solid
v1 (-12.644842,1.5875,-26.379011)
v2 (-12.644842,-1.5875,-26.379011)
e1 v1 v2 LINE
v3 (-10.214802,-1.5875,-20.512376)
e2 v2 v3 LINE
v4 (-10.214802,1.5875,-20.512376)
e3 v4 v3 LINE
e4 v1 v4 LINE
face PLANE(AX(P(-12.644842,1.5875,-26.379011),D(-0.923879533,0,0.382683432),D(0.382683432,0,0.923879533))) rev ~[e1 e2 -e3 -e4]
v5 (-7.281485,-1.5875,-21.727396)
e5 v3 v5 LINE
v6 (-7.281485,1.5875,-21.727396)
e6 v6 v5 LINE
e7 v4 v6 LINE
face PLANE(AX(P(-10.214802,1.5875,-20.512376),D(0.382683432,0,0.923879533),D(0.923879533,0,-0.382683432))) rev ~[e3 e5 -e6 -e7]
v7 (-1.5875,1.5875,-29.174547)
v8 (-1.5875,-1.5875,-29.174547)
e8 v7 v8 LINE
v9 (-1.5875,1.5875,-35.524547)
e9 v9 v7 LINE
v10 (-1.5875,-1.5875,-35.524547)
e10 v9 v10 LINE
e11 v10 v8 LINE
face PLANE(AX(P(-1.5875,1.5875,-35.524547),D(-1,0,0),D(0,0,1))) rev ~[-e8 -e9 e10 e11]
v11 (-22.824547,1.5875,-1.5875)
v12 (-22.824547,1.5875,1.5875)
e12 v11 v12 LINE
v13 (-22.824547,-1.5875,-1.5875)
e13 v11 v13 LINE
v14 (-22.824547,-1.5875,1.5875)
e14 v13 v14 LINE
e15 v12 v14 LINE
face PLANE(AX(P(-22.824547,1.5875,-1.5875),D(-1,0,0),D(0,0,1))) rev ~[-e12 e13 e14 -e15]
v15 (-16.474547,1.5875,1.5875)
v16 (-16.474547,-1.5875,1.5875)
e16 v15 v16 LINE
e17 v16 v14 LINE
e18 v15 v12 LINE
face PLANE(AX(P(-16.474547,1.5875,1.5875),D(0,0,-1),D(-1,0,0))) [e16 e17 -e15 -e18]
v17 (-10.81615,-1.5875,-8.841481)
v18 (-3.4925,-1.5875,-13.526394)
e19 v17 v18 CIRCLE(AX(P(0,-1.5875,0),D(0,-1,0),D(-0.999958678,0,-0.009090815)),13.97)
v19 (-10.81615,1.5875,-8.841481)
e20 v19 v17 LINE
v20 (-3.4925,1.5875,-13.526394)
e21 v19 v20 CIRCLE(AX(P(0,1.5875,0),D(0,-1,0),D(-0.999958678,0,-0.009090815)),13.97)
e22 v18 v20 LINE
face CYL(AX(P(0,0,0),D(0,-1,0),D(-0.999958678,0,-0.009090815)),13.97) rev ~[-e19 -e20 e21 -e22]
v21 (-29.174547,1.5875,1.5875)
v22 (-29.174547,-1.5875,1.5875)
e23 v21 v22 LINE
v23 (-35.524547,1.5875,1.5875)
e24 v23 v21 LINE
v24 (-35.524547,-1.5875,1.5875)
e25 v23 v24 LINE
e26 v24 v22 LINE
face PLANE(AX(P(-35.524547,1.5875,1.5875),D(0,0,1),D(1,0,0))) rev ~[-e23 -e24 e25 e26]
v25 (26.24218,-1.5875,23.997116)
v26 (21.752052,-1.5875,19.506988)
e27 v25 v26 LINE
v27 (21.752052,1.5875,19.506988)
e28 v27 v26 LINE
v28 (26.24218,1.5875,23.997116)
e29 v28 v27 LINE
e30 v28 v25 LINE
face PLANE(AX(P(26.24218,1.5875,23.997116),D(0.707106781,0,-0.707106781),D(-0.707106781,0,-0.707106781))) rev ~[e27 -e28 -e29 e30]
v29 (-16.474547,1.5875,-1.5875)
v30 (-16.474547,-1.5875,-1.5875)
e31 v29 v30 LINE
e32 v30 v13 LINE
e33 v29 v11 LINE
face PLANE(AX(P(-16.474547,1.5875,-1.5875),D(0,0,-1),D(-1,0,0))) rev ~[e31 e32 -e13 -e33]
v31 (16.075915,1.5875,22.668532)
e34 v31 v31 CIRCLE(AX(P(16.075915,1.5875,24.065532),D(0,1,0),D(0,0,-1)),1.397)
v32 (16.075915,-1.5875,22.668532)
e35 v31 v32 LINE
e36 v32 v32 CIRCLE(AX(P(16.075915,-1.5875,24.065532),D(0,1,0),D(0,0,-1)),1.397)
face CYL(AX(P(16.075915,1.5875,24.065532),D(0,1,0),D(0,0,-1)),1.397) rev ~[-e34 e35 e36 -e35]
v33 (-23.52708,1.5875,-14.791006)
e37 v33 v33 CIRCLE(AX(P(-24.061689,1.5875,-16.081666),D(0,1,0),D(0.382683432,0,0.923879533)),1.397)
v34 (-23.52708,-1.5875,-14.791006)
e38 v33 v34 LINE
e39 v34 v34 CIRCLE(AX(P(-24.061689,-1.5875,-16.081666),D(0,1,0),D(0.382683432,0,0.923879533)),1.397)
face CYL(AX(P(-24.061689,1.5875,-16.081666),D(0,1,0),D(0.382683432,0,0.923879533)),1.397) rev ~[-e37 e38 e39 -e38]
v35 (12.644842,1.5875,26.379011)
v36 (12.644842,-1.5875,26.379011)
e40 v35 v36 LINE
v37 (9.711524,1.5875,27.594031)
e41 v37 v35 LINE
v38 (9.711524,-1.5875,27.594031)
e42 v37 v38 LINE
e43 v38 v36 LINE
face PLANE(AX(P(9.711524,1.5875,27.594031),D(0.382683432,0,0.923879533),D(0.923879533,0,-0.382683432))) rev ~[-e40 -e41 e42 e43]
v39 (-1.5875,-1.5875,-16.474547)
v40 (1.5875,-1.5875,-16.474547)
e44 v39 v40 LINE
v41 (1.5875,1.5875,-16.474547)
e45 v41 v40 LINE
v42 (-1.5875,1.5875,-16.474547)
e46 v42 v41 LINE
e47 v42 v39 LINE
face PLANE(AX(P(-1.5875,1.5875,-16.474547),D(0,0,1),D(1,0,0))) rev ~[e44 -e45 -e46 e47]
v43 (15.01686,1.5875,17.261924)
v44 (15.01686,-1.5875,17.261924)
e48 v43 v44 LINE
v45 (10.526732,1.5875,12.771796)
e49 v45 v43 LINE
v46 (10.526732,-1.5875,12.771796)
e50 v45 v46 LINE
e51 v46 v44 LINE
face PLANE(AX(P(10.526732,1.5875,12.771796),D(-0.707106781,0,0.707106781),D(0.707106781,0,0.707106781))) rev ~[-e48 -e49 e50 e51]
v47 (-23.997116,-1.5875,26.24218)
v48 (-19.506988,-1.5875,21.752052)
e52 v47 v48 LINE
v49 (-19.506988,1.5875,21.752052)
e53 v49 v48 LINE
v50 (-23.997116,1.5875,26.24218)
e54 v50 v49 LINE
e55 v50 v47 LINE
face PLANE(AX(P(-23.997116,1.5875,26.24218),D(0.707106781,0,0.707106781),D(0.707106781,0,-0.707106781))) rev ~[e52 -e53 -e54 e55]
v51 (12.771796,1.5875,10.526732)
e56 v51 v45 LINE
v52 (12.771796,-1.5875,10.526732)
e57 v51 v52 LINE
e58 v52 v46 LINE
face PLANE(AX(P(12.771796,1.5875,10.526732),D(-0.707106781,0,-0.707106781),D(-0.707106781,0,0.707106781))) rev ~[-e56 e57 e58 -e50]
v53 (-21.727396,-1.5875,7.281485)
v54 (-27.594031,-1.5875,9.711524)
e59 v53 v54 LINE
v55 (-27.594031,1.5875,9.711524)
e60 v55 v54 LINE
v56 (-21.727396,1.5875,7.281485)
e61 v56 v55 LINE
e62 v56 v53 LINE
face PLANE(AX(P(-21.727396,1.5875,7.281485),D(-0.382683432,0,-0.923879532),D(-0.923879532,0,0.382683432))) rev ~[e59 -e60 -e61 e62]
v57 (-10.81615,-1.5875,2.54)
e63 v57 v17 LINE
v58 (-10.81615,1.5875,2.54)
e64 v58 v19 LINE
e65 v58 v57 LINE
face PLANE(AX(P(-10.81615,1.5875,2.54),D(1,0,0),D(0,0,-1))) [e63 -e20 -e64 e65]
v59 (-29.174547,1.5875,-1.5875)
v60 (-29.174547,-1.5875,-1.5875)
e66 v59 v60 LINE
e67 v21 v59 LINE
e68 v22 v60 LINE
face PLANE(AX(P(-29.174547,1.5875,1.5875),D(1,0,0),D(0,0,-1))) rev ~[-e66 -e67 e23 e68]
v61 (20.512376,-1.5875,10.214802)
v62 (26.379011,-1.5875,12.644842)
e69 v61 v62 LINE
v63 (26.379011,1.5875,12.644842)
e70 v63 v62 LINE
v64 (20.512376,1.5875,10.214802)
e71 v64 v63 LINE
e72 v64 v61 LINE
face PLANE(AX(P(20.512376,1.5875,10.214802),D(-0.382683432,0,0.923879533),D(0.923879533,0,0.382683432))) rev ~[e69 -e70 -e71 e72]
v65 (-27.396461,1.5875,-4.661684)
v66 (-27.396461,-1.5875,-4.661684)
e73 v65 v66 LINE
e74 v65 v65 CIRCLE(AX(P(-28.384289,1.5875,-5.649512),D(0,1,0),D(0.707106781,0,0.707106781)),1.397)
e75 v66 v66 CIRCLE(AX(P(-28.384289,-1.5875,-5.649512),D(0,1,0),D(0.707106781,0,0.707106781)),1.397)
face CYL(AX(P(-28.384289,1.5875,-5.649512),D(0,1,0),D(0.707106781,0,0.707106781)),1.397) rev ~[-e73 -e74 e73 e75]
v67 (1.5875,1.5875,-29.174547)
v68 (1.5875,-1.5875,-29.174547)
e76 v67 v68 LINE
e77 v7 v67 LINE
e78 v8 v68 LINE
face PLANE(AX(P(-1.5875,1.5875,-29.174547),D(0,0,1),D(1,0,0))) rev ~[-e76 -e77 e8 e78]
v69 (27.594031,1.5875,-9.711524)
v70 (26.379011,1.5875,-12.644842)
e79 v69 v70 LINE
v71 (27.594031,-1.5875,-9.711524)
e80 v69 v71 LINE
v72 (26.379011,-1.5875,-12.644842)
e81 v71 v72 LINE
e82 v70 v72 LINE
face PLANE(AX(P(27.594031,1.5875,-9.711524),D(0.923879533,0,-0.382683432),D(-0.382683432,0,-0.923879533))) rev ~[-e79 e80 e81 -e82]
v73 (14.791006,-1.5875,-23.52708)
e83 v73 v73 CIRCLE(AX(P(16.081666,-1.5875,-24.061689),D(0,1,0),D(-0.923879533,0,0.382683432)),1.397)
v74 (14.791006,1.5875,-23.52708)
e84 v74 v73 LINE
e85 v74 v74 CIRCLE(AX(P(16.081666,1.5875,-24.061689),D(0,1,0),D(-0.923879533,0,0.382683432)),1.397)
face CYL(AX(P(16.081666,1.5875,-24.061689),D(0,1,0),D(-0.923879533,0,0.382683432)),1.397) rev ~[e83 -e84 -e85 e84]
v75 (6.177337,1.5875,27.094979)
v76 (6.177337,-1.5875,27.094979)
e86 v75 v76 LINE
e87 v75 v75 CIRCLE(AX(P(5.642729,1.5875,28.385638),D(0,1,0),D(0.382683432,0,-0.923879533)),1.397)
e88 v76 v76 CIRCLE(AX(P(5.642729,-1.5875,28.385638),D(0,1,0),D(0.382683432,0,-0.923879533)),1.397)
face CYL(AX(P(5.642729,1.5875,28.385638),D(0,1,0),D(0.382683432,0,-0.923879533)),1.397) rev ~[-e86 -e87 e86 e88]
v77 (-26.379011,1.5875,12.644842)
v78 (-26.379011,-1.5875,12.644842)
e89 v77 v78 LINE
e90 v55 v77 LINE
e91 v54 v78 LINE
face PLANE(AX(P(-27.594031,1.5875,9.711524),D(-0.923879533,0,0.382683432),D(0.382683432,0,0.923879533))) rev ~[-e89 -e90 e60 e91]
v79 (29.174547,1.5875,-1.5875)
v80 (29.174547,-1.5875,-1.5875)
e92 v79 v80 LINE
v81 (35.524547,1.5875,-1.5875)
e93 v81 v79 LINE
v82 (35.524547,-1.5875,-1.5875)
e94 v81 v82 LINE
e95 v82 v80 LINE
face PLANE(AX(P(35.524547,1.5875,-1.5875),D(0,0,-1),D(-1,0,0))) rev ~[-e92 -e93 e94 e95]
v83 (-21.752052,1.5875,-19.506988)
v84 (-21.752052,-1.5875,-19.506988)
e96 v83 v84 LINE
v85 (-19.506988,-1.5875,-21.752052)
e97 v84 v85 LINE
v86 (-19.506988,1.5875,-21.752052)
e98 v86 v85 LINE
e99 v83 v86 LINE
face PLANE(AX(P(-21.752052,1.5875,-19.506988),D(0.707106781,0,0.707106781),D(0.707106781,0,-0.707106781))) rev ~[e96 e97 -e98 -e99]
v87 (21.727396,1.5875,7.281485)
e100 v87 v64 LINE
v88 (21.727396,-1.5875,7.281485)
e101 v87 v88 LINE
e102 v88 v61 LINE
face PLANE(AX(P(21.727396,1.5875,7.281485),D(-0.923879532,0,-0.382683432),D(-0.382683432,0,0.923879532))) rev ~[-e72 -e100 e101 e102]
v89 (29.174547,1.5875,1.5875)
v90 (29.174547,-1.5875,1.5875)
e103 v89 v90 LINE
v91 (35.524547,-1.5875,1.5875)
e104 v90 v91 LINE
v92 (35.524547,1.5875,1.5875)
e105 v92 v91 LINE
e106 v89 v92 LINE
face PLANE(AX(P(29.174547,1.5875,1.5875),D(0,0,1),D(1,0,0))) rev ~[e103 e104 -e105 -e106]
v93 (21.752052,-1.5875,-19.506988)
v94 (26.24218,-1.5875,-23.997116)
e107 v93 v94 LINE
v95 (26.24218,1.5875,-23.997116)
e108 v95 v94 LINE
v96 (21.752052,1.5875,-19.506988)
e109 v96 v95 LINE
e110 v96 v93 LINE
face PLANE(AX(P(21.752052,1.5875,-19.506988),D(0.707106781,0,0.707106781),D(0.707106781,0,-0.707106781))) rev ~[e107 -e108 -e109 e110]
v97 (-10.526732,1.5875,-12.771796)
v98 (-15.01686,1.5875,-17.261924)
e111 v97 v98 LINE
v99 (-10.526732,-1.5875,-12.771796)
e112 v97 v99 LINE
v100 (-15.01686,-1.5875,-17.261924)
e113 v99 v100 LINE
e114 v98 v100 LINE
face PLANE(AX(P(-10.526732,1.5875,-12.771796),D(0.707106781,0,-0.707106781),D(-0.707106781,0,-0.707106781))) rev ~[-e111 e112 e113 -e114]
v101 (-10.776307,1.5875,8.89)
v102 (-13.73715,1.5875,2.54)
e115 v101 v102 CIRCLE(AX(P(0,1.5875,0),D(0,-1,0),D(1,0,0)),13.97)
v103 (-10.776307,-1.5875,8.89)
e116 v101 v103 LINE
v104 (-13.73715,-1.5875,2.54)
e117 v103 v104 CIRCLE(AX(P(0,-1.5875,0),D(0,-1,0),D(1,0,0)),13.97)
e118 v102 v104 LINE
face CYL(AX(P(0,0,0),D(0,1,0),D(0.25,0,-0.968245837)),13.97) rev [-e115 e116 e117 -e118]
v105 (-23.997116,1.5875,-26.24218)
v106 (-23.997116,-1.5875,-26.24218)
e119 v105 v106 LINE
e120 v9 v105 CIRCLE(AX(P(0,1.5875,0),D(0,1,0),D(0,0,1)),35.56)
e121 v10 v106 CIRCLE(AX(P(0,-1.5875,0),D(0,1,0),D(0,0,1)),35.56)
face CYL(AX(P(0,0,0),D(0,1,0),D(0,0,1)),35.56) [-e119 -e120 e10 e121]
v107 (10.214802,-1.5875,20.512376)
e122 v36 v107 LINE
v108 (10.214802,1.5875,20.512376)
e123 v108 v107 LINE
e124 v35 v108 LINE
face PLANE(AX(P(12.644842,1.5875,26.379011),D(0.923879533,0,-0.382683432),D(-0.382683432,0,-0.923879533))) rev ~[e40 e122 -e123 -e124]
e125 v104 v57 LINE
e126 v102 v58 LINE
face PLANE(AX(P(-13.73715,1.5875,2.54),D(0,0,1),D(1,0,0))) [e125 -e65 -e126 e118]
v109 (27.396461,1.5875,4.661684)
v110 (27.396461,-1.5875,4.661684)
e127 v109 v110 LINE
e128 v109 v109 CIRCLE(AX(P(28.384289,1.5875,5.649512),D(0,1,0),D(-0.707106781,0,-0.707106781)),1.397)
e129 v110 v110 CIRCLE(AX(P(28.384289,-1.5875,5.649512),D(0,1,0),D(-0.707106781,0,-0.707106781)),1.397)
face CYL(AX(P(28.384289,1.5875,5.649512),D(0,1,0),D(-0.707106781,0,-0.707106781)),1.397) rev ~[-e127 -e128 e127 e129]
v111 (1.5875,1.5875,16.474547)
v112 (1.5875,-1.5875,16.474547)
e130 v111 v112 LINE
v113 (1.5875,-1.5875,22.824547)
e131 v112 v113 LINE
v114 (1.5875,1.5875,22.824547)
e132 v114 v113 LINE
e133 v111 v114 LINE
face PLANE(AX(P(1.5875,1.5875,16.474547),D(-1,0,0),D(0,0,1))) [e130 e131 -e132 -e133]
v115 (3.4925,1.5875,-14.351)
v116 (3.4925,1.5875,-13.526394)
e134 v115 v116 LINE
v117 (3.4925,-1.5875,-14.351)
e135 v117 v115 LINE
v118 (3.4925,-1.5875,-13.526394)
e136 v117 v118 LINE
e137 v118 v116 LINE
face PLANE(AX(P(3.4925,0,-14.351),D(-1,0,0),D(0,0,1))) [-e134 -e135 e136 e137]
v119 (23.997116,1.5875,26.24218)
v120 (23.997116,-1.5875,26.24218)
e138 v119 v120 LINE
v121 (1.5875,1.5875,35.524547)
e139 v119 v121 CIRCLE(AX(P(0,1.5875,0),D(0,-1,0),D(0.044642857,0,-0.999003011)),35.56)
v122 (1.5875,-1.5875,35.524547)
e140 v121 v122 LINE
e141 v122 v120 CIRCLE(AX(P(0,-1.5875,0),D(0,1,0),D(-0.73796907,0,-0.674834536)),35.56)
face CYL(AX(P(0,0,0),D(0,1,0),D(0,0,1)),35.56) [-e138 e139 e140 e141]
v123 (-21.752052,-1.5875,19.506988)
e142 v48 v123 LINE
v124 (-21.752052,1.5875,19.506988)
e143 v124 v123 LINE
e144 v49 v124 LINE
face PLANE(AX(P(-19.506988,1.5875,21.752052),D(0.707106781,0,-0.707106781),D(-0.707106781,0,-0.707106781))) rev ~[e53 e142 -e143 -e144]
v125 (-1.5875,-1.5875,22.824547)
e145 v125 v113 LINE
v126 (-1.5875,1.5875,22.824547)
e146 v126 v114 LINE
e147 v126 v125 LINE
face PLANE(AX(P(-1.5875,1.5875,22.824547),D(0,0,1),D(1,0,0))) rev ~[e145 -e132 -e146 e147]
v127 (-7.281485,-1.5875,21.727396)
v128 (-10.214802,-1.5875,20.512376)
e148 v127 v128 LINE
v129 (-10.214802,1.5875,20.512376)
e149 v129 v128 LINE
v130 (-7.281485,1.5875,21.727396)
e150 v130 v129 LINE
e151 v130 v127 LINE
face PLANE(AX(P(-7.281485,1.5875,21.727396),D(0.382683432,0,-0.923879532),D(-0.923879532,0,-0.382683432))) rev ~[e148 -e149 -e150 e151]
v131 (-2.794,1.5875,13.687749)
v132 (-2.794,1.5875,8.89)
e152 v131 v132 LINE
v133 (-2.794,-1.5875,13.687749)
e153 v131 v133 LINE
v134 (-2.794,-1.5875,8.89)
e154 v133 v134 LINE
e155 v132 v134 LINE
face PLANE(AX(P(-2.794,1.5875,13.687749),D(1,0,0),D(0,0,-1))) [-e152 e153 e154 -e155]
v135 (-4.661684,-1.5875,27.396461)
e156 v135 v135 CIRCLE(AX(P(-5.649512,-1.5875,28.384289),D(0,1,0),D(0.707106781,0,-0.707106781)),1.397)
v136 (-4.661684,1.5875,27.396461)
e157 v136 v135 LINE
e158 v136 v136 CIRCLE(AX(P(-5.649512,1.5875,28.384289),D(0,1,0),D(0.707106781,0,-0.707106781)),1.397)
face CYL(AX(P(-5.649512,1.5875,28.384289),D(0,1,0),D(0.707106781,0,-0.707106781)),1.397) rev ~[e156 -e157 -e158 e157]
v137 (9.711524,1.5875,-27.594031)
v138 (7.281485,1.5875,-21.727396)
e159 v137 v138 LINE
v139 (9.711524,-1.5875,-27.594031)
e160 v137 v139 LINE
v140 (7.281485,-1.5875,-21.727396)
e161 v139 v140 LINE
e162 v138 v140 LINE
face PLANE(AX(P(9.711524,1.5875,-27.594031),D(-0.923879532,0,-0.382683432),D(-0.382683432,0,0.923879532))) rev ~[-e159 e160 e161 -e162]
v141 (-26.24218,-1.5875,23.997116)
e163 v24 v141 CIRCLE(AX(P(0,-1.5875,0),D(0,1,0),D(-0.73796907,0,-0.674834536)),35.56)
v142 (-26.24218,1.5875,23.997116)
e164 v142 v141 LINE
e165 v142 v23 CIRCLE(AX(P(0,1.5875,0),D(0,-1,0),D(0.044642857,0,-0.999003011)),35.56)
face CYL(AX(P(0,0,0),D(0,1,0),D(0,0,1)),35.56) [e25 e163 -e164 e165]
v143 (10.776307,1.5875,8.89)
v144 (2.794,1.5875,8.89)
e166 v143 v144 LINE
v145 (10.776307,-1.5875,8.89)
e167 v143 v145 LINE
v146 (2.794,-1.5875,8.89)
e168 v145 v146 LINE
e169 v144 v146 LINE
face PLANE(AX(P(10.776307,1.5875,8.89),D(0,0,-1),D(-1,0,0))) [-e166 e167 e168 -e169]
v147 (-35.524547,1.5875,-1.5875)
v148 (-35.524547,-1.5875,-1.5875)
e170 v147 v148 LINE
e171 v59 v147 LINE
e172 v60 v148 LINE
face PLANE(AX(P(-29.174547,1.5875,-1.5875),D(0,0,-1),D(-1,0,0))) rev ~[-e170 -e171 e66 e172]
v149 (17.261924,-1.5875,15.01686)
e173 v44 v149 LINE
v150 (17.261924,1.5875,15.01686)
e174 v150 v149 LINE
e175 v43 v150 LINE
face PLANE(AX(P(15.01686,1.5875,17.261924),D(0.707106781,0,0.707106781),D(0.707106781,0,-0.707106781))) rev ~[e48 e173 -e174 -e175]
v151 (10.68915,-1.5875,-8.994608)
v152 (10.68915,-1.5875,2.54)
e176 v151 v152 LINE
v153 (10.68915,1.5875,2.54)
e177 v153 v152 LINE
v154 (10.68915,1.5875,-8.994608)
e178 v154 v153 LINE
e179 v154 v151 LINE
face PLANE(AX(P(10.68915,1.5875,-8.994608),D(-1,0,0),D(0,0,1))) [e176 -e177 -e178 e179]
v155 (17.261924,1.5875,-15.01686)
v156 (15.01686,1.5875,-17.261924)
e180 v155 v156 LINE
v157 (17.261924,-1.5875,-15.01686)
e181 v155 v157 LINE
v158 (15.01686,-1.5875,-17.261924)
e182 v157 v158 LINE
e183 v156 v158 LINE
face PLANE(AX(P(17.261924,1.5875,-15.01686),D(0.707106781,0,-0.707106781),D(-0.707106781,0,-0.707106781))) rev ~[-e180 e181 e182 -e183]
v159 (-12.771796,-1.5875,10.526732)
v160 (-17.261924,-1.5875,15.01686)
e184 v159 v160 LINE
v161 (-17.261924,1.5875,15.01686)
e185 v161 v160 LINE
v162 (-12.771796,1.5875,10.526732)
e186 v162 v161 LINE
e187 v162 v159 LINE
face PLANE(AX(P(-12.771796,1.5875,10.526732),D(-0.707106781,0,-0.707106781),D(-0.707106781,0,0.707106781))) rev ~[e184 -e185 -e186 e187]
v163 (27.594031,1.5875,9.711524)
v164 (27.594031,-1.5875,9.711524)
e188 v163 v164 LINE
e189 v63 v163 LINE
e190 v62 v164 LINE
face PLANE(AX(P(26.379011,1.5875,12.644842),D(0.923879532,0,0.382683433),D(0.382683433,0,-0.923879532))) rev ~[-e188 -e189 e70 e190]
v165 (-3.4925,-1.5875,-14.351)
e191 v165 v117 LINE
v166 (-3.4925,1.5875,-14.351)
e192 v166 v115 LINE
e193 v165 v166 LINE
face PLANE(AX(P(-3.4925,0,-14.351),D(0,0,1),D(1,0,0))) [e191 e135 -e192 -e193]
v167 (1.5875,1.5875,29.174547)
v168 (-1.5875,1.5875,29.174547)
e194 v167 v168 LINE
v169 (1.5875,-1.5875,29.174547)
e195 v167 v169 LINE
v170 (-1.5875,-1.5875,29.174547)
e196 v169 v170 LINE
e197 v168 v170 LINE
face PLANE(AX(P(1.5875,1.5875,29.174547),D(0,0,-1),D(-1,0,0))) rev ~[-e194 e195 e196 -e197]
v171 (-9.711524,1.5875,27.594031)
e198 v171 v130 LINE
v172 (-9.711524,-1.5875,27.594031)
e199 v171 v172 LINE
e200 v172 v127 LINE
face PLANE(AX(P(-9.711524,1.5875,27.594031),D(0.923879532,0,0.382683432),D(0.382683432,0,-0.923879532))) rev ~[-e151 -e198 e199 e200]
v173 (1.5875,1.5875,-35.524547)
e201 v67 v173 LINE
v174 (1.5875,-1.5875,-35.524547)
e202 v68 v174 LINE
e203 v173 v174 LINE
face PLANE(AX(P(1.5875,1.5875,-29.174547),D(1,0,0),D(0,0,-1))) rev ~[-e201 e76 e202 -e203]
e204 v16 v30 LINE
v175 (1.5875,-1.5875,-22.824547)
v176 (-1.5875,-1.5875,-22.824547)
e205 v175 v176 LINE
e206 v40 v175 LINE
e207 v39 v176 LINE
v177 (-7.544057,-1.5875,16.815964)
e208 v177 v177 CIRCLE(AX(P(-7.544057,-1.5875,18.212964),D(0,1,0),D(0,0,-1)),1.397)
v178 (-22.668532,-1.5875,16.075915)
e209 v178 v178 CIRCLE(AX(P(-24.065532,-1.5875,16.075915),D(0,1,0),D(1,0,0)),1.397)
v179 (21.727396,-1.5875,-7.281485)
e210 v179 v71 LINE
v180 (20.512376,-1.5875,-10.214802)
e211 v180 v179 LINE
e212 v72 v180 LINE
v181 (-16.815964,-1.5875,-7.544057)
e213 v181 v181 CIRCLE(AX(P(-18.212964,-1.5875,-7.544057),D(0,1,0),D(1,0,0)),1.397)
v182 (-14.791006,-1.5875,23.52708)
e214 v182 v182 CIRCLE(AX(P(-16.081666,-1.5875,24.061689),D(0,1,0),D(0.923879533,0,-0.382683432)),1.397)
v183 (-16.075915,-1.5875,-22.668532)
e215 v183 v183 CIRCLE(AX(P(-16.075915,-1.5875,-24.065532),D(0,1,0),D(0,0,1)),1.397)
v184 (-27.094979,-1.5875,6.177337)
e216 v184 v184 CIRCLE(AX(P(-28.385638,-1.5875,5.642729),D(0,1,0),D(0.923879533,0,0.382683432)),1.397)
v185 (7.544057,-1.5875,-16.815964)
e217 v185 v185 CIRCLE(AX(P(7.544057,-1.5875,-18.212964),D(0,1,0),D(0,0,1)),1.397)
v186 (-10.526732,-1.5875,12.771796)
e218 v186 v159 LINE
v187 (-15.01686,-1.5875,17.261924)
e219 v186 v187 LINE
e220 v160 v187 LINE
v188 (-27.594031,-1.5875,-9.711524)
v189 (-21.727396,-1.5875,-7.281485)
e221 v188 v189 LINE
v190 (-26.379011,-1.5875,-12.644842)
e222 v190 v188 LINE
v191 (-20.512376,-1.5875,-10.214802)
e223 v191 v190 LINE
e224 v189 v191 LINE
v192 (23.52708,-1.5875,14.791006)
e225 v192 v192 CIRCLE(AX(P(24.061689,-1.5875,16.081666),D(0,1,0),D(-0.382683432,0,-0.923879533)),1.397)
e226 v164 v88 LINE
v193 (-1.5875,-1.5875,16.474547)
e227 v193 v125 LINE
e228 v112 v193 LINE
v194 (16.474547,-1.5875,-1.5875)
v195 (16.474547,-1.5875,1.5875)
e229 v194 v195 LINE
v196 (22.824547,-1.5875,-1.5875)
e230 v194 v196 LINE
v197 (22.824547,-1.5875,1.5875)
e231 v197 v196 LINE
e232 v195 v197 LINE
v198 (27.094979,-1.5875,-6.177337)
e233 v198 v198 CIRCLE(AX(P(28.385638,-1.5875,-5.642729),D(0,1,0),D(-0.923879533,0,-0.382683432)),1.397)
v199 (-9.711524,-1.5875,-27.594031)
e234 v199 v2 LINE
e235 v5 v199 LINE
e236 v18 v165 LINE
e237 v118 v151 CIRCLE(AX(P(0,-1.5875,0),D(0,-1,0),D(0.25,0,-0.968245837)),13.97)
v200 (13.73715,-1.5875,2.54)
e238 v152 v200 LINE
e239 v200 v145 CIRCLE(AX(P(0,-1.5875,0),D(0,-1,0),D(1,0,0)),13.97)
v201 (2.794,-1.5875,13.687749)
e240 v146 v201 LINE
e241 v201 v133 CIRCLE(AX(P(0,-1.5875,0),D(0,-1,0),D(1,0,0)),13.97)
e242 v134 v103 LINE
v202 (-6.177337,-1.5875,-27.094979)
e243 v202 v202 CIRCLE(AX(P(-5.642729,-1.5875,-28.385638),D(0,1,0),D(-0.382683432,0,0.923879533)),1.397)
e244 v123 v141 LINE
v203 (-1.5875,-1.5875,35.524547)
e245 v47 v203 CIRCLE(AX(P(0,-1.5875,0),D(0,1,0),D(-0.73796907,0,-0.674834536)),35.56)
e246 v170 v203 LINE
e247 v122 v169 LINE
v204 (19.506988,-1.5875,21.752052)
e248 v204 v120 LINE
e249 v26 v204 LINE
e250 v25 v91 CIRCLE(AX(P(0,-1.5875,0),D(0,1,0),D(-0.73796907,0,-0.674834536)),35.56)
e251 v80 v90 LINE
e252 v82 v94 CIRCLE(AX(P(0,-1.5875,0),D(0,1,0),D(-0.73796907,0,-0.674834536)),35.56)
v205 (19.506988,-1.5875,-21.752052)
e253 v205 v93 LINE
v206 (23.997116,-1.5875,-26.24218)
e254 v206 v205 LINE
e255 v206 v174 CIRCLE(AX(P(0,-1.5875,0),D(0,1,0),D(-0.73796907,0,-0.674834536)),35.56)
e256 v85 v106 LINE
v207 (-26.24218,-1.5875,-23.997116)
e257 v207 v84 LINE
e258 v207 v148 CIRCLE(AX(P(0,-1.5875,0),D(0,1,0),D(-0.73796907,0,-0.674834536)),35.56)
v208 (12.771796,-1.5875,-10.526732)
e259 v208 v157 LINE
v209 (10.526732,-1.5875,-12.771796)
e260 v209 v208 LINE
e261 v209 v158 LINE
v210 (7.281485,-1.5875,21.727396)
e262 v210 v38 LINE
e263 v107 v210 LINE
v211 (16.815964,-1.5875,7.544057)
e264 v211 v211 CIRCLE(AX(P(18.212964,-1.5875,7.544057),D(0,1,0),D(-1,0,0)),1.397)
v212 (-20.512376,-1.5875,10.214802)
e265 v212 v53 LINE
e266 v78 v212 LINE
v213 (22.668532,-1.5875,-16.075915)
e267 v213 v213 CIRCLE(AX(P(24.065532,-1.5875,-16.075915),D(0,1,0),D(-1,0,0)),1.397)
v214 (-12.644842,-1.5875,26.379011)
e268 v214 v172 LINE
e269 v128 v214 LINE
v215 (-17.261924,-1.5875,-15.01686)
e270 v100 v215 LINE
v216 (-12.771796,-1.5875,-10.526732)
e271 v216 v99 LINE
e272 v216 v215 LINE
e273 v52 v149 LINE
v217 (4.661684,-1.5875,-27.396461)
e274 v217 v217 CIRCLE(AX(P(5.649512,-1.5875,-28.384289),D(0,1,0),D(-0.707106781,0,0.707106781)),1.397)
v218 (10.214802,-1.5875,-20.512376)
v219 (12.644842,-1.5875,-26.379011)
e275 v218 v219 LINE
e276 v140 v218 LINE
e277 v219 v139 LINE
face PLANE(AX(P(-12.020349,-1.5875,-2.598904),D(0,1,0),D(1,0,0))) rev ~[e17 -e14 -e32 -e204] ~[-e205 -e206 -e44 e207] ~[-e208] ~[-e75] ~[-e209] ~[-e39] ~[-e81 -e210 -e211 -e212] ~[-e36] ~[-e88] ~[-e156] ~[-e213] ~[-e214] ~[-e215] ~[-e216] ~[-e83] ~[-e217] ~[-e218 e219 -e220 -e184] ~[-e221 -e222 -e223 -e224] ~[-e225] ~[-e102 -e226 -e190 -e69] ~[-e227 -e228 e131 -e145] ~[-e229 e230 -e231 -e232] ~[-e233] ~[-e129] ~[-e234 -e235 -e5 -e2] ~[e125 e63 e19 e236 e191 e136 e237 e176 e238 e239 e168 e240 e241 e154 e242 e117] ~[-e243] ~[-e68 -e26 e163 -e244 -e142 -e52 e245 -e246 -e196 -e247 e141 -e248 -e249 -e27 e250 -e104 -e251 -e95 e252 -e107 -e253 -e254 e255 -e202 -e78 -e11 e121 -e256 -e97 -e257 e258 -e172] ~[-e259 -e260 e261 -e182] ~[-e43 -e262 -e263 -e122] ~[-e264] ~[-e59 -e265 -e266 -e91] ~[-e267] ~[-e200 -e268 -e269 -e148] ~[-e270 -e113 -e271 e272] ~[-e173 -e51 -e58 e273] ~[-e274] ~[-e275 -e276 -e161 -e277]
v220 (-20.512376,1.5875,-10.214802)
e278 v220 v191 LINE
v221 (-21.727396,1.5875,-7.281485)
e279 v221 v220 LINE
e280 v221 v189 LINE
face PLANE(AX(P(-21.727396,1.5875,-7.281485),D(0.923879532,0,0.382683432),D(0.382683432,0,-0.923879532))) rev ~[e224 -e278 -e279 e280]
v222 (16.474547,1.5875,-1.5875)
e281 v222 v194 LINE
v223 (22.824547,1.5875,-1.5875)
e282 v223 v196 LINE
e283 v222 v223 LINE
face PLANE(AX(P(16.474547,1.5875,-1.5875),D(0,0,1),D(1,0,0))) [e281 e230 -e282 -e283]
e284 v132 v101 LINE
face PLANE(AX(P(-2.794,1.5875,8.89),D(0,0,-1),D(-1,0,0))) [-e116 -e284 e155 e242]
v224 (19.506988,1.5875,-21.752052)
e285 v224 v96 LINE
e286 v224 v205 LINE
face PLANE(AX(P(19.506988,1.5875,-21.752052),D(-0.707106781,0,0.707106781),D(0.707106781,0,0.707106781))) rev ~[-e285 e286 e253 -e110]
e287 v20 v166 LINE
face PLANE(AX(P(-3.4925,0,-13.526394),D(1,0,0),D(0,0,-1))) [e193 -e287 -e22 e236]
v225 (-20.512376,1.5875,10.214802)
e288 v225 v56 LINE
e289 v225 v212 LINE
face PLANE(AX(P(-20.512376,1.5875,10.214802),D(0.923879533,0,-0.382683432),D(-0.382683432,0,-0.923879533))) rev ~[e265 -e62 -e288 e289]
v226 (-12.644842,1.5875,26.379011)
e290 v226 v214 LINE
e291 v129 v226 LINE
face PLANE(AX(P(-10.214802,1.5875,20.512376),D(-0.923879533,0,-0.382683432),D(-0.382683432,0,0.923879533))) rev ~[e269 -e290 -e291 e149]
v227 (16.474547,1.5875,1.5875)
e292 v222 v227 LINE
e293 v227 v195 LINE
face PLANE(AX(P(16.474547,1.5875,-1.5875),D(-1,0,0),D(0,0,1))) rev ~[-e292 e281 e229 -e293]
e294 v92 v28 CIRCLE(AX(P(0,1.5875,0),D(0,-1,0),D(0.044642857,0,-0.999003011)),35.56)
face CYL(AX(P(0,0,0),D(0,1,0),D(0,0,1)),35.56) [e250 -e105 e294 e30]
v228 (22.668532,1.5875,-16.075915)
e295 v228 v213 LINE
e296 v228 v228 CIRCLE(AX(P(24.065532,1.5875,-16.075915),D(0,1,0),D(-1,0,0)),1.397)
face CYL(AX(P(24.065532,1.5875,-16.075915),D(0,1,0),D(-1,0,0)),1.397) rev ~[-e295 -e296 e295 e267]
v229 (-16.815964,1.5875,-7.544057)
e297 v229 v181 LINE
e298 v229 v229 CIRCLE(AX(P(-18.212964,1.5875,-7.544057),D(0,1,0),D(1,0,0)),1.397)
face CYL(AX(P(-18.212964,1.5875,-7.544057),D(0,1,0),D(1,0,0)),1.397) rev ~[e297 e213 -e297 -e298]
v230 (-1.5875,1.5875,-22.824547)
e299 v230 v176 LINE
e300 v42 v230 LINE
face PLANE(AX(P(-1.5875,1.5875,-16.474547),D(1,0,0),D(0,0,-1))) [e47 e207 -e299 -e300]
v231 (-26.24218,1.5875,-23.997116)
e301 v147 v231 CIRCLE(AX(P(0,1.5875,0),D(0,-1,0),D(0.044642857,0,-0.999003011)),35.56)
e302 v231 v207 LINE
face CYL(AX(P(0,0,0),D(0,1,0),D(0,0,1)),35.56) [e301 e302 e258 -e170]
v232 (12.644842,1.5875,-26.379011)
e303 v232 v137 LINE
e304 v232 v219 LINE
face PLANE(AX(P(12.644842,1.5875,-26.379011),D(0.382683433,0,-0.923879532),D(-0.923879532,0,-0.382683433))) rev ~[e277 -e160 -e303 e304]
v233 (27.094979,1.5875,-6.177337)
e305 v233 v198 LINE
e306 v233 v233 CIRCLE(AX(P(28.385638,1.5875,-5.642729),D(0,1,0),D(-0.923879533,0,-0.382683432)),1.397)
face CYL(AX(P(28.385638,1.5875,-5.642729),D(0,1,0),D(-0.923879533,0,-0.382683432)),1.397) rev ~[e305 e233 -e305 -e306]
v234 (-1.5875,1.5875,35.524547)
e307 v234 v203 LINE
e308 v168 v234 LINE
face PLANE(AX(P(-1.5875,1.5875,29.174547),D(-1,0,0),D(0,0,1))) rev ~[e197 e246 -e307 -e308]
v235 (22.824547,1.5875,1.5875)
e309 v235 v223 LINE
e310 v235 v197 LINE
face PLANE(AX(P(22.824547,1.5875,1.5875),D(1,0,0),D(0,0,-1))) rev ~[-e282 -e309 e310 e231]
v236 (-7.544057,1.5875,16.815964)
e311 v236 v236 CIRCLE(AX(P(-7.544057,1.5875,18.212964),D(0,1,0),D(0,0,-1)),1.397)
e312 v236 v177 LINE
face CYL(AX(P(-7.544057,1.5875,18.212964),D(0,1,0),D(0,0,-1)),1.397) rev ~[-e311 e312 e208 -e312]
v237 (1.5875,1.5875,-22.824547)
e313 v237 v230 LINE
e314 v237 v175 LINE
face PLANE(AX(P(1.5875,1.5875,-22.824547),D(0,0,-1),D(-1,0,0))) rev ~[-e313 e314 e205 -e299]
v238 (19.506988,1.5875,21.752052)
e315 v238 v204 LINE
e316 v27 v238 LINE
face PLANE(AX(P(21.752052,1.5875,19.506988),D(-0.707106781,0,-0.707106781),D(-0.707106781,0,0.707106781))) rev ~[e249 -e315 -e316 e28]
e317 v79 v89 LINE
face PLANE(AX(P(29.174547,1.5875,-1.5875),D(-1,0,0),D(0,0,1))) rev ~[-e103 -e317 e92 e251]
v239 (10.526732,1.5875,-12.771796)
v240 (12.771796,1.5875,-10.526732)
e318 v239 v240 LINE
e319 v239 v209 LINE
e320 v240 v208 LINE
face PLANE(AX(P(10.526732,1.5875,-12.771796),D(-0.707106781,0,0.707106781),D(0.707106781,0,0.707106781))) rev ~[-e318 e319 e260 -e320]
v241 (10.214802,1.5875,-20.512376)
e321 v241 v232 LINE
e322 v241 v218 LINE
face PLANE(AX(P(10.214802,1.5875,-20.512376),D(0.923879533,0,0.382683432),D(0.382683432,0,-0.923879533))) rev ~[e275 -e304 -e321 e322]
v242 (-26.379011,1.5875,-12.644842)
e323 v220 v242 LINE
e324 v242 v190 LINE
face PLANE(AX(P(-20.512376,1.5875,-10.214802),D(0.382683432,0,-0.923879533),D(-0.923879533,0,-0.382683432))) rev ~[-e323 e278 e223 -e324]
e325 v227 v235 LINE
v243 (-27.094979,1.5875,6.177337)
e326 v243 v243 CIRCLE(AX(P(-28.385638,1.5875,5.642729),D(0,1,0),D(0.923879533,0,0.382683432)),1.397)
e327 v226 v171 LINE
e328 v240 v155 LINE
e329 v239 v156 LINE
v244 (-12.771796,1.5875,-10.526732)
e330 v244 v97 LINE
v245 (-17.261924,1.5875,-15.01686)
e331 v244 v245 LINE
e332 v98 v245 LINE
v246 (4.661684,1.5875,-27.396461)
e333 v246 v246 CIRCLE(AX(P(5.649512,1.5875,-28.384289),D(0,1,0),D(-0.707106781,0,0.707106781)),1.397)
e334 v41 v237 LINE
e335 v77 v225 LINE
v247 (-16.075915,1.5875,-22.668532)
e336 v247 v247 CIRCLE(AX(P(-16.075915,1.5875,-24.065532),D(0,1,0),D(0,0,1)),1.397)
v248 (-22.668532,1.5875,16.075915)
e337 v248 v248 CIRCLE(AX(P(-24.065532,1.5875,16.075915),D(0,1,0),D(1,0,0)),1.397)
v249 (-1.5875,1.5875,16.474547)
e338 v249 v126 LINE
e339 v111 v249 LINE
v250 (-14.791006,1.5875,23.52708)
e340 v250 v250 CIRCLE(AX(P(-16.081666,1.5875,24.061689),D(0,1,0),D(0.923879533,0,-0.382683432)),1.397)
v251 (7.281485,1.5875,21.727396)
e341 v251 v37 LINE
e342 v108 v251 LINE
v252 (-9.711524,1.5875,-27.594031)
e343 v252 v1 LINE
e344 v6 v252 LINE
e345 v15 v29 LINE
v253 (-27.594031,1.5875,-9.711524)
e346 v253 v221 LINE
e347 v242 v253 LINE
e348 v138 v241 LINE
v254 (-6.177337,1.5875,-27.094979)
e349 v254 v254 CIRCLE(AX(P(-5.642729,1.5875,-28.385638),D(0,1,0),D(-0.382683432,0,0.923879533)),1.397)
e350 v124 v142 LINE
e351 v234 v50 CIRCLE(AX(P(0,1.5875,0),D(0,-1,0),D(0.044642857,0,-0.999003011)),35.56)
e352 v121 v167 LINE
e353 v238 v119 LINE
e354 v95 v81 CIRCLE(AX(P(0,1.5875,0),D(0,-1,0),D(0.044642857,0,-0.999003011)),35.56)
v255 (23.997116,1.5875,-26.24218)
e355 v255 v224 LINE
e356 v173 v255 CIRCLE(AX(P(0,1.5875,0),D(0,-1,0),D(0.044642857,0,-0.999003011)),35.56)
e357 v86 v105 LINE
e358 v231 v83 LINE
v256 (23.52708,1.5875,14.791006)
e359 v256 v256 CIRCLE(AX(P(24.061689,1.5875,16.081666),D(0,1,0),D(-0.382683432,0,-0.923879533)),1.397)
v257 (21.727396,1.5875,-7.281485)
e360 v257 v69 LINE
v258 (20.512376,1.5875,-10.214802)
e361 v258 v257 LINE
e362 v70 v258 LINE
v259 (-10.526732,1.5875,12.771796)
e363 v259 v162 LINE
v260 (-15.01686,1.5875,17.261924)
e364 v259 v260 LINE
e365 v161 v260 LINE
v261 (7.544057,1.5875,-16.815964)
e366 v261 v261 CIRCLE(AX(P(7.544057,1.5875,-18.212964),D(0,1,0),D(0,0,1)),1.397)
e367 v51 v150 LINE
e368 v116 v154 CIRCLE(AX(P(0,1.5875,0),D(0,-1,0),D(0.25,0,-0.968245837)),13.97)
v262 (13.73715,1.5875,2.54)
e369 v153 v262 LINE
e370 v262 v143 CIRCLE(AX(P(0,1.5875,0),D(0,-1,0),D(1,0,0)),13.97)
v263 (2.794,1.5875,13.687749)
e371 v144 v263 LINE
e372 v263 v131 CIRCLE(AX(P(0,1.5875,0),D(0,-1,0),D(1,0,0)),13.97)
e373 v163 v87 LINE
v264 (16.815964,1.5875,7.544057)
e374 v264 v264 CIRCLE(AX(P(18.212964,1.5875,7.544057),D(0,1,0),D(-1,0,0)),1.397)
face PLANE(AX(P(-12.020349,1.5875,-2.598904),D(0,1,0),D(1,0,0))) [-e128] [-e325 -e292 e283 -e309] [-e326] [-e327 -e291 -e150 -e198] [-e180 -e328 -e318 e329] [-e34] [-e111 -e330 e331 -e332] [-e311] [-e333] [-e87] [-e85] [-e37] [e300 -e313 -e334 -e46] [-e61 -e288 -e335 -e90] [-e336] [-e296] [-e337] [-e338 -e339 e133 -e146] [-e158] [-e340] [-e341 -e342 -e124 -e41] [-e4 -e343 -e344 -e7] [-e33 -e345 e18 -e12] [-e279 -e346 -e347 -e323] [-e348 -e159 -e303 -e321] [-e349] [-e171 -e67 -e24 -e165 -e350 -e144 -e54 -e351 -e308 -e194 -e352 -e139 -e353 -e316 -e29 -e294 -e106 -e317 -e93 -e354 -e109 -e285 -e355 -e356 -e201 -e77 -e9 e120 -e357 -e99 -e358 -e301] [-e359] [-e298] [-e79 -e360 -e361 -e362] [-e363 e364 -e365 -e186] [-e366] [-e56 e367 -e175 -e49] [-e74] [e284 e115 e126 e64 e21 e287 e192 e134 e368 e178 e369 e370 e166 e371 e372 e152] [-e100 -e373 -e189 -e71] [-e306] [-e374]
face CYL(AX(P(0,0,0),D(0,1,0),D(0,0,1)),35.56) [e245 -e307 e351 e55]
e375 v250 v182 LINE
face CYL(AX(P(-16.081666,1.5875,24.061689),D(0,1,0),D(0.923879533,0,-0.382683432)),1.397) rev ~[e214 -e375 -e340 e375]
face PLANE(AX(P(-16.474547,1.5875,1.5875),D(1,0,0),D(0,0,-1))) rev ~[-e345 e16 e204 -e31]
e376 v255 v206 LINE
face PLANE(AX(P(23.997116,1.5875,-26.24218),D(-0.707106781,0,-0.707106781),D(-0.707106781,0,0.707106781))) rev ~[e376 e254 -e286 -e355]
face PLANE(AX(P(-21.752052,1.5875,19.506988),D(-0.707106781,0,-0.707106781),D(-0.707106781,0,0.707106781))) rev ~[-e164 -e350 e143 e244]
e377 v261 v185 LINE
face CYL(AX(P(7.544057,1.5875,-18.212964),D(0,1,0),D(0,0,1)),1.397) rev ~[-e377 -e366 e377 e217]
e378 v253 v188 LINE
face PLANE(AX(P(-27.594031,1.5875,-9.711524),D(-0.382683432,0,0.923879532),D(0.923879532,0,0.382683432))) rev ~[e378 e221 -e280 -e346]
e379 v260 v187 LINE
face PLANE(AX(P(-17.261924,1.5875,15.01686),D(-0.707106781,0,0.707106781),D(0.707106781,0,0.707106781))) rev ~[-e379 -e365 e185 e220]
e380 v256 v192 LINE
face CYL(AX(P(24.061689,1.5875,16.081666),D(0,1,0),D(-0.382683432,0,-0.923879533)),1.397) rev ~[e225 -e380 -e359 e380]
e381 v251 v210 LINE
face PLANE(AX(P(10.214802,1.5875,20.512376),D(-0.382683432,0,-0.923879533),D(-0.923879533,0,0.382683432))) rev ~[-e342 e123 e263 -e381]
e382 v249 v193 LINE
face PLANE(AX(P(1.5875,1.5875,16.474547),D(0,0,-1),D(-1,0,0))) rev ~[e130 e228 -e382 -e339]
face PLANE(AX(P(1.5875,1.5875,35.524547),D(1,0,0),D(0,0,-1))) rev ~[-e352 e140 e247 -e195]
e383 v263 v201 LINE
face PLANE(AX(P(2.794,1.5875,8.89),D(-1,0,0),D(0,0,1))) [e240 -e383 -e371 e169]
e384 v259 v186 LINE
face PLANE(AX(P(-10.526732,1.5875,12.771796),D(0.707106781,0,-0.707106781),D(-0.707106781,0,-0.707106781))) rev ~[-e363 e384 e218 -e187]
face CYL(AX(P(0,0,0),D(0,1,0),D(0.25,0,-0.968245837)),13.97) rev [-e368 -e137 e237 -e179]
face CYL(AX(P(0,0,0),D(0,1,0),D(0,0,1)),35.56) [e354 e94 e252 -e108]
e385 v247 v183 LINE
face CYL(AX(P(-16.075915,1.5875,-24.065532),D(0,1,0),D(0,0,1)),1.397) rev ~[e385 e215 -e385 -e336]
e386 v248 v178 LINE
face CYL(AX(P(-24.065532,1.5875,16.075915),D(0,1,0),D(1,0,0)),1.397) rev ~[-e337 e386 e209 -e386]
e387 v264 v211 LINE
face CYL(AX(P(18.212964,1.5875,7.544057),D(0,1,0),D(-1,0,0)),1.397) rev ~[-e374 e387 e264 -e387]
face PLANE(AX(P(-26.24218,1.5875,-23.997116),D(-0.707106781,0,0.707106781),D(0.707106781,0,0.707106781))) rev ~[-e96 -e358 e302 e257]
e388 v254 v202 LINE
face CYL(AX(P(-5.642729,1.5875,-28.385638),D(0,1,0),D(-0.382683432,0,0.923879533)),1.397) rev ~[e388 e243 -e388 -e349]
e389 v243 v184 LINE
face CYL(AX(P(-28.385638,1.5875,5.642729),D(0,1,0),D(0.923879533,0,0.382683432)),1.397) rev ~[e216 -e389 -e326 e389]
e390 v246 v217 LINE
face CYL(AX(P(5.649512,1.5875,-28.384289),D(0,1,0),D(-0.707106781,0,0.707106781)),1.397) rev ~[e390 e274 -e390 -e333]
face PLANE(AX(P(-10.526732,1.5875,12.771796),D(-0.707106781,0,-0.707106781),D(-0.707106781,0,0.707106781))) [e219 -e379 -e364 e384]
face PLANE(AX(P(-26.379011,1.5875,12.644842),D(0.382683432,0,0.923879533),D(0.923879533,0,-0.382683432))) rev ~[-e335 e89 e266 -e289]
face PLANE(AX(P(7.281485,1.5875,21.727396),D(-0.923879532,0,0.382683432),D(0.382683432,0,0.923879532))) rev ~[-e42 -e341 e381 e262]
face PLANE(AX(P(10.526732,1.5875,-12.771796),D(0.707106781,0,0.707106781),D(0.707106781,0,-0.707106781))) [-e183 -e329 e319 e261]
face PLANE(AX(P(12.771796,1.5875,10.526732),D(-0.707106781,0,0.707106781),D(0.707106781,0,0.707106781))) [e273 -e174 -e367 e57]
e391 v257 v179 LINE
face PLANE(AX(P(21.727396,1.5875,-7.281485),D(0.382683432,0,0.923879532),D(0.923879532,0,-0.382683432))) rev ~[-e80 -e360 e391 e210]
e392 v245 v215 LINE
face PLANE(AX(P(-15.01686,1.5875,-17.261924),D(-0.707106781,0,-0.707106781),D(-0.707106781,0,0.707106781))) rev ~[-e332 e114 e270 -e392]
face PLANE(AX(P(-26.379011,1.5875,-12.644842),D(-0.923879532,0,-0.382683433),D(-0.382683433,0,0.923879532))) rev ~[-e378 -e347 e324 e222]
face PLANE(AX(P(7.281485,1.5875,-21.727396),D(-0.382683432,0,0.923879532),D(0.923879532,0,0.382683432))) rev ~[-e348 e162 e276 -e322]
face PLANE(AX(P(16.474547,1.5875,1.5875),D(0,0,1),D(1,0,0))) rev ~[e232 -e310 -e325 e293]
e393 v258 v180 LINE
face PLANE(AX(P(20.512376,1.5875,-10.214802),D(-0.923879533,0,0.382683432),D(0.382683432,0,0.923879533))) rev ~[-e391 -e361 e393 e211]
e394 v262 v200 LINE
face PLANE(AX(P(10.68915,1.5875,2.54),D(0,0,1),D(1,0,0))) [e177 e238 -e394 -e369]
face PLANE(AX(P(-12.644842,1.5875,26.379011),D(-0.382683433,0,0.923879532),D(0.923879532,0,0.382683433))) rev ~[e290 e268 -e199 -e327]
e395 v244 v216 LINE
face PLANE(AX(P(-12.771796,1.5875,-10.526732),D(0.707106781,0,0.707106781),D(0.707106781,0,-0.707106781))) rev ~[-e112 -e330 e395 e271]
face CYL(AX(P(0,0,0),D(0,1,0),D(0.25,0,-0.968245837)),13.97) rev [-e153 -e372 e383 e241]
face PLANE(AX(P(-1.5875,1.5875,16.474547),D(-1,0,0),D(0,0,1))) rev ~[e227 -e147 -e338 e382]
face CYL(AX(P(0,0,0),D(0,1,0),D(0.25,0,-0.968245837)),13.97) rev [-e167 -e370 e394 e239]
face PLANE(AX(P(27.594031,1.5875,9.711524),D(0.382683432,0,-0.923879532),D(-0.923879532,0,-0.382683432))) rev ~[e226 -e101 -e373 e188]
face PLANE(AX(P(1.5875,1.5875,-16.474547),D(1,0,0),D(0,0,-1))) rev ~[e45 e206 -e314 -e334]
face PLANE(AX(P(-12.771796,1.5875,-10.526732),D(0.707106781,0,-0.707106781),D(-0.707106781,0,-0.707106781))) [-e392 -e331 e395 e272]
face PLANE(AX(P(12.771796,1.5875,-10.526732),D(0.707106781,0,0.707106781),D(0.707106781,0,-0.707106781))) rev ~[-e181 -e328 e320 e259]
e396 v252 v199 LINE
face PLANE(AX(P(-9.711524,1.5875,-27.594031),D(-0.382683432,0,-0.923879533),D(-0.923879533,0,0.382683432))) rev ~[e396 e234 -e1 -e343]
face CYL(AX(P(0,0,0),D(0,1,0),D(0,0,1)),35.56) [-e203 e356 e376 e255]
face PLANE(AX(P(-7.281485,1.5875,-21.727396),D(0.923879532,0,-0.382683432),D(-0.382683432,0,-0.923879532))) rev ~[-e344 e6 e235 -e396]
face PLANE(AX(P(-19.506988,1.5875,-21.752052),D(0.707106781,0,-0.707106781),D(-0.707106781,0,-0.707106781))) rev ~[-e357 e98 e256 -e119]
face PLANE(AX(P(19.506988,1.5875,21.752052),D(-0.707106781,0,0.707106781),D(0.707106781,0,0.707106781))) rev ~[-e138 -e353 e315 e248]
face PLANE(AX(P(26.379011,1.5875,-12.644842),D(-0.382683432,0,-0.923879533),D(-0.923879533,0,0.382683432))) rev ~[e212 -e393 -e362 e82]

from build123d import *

# Parameters (mm, degrees)
SKETCH1_R           = 35.56
BOSS_EXTRUDE1_DEPTH = 1.5875
SKETCH2_W           = 1.5875
SKETCH2_H           = 6.35
CUT_EXTRUDE1_DEPTH  = 51.389560675
CIRPATTERN1_COUNT   = 8
BOSS_EXTRUDE2_DEPTH = 3.175
SKETCH4_R           = 1.397
CUT_EXTRUDE2_DEPTH  = 3.175
CIRPATTERN2_COUNT   = 4
CUT_EXTRUDE3_DEPTH  = 51.339522371
CIRPATTERN3_COUNT   = 8
SKETCH6_R           = 1.397
CUT_EXTRUDE4_DEPTH  = 51.339522371
CIRPATTERN4_COUNT   = 16


with BuildPart() as part:
    # Sketch1 → Boss-Extrude1 (new, symmetric)
    with BuildSketch(Plane(origin=(0, 0, 0), x_dir=(1, 0, 0), z_dir=(0, 1, 0))):
        with Locations(Location((0, 0, 0), (0, 0, 270))):
            Circle(SKETCH1_R)
        with BuildLine():
            ThreePointArc((-13.969422727, 0.126998688), (-11.005254984, 8.604955708), (-3.4925, 13.526394337))
            Line((-3.4925, 13.526394337), (-3.4925, 14.351))
            Line((-3.4925, 14.351), (3.4925, 14.351))
            Line((3.4925, 14.351), (3.4925, 13.526394337))
            ThreePointArc((3.4925, 13.526394337), (11.044254728, 8.554842927), (13.97, 0))
            ThreePointArc((13.97, 0), (0.0635, -13.969855681), (-13.969422727, -0.126998688))
            ThreePointArc((-13.969422727, -0.126998688), (-14.097, 0), (-13.969422727, 0.126998688))
        make_face(mode=Mode.SUBTRACT)
    extrude(amount=BOSS_EXTRUDE1_DEPTH, both=True)

    # Sketch2 → Cut-Extrude1 (cut, through all)
    with BuildSketch(Plane(origin=(0, 1.5875, 0), x_dir=(1, 0, 0), z_dir=(0, 1, 0))):
        with BuildLine():
            ThreePointArc((1.5875, 35.524547059), (0.793947914, 35.55113566), (0, 35.56))
            Line((0, 35.56), (0, 29.174547059))
            Line((0, 29.174547059), (1.5875, 29.174547059))
            Line((1.5875, 29.174547059), (1.5875, 35.524547059))
        make_face()
        with BuildLine():
            Line((0, 29.174547059), (0, 35.56))
            ThreePointArc((0, 35.56), (-0.793947914, 35.55113566), (-1.5875, 35.524547059))
            Line((-1.5875, 35.524547059), (-1.5875, 29.174547059))
            Line((-1.5875, 29.174547059), (0, 29.174547059))
        make_face()
        with Locations((-0.79375, 19.649547059)):
            Rectangle(SKETCH2_W, SKETCH2_H)
        with Locations((0.79375, 19.649547059)):
            Rectangle(SKETCH2_W, SKETCH2_H)
    cut_extrude1 = extrude(amount=-CUT_EXTRUDE1_DEPTH, mode=Mode.SUBTRACT)

    # CirPattern1: Cut-Extrude1 ×8 about axis
    cirpattern1_axis = Axis((0, 0, 0), (0, 1, 0))
    for i in range(1, CIRPATTERN1_COUNT):
        add(cut_extrude1.rotate(cirpattern1_axis, i * 360 / CIRPATTERN1_COUNT), mode=Mode.SUBTRACT)

    # Sketch3 → Boss-Extrude2 (add)
    with BuildSketch(Plane(origin=(0, 1.5875, 0), x_dir=(1, 0, 0), z_dir=(0, 1, 0))):
        with BuildLine():
            ThreePointArc((-13.969422727, -0.126998688), (-13.905725148, -1.338547016), (-13.73715036, -2.54))
            Line((-13.73715036, -2.54), (-10.81615036, -2.54))
            Line((-10.81615036, -2.54), (-10.81615036, 8.84148129))
            ThreePointArc((-10.81615036, 8.84148129), (-13.1364649, 4.753334612), (-13.969422727, 0.126998688))
            ThreePointArc((-13.969422727, 0.126998688), (-14.097, 0), (-13.969422727, -0.126998688))
        make_face()
        with BuildLine():
            Line((10.68915036, -2.54), (13.73715036, -2.54))
            ThreePointArc((13.73715036, -2.54), (13.506399758, 3.569042671), (10.68915036, 8.994607528))
            Line((10.68915036, 8.994607528), (10.68915036, -2.54))
        make_face()
        with BuildLine():
            Line((2.794, -8.89), (2.794, -13.687748683))
            ThreePointArc((2.794, -13.687748683), (7.196729012, -11.973637356), (10.776307345, -8.89))
            Line((10.776307345, -8.89), (2.794, -8.89))
        make_face()
        with BuildLine():
            Line((-2.794, -8.89), (-10.776307345, -8.89))
            ThreePointArc((-10.776307345, -8.89), (-7.196729012, -11.973637356), (-2.794, -13.687748683))
            Line((-2.794, -13.687748683), (-2.794, -8.89))
        make_face()
    extrude(amount=-BOSS_EXTRUDE2_DEPTH)

    # Sketch4 → Cut-Extrude2 (cut)
    with BuildSketch(Plane(origin=(0, 1.5875, 0), x_dir=(1, 0, 0), z_dir=(0, 1, 0))):
        with Locations(Location((7.544056765, 18.212964157, 0), (0, 0, 270))):
            Circle(SKETCH4_R)
    cut_extrude2 = extrude(amount=-CUT_EXTRUDE2_DEPTH, mode=Mode.SUBTRACT)

    # CirPattern2: Cut-Extrude2 ×4 about axis
    cirpattern2_axis = Axis((0, 0, 0), (0, 1, 0))
    for i in range(1, CIRPATTERN2_COUNT):
        add(cut_extrude2.rotate(cirpattern2_axis, i * 360 / CIRPATTERN2_COUNT), mode=Mode.SUBTRACT)

    # Sketch5 → Cut-Extrude3 (cut, through all)
    with BuildSketch(Plane(origin=(0, 1.5875, 0), x_dir=(1, 0, 0), z_dir=(0, 1, 0))):
        Polygon((-26.379011196, 12.644841817), (-27.594031094, 9.711524302), (-21.727396062, 7.281484506), (-20.512376164, 10.214802022), align=None)
    cut_extrude3 = extrude(amount=-CUT_EXTRUDE3_DEPTH, mode=Mode.SUBTRACT)

    # CirPattern3: Cut-Extrude3 ×8 about axis
    cirpattern3_axis = Axis((0, 0, 0), (0, 1, 0))
    for i in range(1, CIRPATTERN3_COUNT):
        add(cut_extrude3.rotate(cirpattern3_axis, i * 360 / CIRPATTERN3_COUNT), mode=Mode.SUBTRACT)

    # Sketch6 → Cut-Extrude4 (cut, through all)
    with BuildSketch(Plane(origin=(0, 1.5875, 0), x_dir=(1, 0, 0), z_dir=(0, 1, 0))):
        with Locations(Location((-16.075914933, 24.065531637, 0), (0, 0, 270))):
            Circle(SKETCH6_R)
    cut_extrude4 = extrude(amount=-CUT_EXTRUDE4_DEPTH, mode=Mode.SUBTRACT)

    # CirPattern4: Cut-Extrude4 ×16 about axis
    cirpattern4_axis = Axis((0, 0, 0), (0, 1, 0))
    for i in range(1, CIRPATTERN4_COUNT):
        add(cut_extrude4.rotate(cirpattern4_axis, i * 360 / CIRPATTERN4_COUNT), mode=Mode.SUBTRACT)


solid = part.part
